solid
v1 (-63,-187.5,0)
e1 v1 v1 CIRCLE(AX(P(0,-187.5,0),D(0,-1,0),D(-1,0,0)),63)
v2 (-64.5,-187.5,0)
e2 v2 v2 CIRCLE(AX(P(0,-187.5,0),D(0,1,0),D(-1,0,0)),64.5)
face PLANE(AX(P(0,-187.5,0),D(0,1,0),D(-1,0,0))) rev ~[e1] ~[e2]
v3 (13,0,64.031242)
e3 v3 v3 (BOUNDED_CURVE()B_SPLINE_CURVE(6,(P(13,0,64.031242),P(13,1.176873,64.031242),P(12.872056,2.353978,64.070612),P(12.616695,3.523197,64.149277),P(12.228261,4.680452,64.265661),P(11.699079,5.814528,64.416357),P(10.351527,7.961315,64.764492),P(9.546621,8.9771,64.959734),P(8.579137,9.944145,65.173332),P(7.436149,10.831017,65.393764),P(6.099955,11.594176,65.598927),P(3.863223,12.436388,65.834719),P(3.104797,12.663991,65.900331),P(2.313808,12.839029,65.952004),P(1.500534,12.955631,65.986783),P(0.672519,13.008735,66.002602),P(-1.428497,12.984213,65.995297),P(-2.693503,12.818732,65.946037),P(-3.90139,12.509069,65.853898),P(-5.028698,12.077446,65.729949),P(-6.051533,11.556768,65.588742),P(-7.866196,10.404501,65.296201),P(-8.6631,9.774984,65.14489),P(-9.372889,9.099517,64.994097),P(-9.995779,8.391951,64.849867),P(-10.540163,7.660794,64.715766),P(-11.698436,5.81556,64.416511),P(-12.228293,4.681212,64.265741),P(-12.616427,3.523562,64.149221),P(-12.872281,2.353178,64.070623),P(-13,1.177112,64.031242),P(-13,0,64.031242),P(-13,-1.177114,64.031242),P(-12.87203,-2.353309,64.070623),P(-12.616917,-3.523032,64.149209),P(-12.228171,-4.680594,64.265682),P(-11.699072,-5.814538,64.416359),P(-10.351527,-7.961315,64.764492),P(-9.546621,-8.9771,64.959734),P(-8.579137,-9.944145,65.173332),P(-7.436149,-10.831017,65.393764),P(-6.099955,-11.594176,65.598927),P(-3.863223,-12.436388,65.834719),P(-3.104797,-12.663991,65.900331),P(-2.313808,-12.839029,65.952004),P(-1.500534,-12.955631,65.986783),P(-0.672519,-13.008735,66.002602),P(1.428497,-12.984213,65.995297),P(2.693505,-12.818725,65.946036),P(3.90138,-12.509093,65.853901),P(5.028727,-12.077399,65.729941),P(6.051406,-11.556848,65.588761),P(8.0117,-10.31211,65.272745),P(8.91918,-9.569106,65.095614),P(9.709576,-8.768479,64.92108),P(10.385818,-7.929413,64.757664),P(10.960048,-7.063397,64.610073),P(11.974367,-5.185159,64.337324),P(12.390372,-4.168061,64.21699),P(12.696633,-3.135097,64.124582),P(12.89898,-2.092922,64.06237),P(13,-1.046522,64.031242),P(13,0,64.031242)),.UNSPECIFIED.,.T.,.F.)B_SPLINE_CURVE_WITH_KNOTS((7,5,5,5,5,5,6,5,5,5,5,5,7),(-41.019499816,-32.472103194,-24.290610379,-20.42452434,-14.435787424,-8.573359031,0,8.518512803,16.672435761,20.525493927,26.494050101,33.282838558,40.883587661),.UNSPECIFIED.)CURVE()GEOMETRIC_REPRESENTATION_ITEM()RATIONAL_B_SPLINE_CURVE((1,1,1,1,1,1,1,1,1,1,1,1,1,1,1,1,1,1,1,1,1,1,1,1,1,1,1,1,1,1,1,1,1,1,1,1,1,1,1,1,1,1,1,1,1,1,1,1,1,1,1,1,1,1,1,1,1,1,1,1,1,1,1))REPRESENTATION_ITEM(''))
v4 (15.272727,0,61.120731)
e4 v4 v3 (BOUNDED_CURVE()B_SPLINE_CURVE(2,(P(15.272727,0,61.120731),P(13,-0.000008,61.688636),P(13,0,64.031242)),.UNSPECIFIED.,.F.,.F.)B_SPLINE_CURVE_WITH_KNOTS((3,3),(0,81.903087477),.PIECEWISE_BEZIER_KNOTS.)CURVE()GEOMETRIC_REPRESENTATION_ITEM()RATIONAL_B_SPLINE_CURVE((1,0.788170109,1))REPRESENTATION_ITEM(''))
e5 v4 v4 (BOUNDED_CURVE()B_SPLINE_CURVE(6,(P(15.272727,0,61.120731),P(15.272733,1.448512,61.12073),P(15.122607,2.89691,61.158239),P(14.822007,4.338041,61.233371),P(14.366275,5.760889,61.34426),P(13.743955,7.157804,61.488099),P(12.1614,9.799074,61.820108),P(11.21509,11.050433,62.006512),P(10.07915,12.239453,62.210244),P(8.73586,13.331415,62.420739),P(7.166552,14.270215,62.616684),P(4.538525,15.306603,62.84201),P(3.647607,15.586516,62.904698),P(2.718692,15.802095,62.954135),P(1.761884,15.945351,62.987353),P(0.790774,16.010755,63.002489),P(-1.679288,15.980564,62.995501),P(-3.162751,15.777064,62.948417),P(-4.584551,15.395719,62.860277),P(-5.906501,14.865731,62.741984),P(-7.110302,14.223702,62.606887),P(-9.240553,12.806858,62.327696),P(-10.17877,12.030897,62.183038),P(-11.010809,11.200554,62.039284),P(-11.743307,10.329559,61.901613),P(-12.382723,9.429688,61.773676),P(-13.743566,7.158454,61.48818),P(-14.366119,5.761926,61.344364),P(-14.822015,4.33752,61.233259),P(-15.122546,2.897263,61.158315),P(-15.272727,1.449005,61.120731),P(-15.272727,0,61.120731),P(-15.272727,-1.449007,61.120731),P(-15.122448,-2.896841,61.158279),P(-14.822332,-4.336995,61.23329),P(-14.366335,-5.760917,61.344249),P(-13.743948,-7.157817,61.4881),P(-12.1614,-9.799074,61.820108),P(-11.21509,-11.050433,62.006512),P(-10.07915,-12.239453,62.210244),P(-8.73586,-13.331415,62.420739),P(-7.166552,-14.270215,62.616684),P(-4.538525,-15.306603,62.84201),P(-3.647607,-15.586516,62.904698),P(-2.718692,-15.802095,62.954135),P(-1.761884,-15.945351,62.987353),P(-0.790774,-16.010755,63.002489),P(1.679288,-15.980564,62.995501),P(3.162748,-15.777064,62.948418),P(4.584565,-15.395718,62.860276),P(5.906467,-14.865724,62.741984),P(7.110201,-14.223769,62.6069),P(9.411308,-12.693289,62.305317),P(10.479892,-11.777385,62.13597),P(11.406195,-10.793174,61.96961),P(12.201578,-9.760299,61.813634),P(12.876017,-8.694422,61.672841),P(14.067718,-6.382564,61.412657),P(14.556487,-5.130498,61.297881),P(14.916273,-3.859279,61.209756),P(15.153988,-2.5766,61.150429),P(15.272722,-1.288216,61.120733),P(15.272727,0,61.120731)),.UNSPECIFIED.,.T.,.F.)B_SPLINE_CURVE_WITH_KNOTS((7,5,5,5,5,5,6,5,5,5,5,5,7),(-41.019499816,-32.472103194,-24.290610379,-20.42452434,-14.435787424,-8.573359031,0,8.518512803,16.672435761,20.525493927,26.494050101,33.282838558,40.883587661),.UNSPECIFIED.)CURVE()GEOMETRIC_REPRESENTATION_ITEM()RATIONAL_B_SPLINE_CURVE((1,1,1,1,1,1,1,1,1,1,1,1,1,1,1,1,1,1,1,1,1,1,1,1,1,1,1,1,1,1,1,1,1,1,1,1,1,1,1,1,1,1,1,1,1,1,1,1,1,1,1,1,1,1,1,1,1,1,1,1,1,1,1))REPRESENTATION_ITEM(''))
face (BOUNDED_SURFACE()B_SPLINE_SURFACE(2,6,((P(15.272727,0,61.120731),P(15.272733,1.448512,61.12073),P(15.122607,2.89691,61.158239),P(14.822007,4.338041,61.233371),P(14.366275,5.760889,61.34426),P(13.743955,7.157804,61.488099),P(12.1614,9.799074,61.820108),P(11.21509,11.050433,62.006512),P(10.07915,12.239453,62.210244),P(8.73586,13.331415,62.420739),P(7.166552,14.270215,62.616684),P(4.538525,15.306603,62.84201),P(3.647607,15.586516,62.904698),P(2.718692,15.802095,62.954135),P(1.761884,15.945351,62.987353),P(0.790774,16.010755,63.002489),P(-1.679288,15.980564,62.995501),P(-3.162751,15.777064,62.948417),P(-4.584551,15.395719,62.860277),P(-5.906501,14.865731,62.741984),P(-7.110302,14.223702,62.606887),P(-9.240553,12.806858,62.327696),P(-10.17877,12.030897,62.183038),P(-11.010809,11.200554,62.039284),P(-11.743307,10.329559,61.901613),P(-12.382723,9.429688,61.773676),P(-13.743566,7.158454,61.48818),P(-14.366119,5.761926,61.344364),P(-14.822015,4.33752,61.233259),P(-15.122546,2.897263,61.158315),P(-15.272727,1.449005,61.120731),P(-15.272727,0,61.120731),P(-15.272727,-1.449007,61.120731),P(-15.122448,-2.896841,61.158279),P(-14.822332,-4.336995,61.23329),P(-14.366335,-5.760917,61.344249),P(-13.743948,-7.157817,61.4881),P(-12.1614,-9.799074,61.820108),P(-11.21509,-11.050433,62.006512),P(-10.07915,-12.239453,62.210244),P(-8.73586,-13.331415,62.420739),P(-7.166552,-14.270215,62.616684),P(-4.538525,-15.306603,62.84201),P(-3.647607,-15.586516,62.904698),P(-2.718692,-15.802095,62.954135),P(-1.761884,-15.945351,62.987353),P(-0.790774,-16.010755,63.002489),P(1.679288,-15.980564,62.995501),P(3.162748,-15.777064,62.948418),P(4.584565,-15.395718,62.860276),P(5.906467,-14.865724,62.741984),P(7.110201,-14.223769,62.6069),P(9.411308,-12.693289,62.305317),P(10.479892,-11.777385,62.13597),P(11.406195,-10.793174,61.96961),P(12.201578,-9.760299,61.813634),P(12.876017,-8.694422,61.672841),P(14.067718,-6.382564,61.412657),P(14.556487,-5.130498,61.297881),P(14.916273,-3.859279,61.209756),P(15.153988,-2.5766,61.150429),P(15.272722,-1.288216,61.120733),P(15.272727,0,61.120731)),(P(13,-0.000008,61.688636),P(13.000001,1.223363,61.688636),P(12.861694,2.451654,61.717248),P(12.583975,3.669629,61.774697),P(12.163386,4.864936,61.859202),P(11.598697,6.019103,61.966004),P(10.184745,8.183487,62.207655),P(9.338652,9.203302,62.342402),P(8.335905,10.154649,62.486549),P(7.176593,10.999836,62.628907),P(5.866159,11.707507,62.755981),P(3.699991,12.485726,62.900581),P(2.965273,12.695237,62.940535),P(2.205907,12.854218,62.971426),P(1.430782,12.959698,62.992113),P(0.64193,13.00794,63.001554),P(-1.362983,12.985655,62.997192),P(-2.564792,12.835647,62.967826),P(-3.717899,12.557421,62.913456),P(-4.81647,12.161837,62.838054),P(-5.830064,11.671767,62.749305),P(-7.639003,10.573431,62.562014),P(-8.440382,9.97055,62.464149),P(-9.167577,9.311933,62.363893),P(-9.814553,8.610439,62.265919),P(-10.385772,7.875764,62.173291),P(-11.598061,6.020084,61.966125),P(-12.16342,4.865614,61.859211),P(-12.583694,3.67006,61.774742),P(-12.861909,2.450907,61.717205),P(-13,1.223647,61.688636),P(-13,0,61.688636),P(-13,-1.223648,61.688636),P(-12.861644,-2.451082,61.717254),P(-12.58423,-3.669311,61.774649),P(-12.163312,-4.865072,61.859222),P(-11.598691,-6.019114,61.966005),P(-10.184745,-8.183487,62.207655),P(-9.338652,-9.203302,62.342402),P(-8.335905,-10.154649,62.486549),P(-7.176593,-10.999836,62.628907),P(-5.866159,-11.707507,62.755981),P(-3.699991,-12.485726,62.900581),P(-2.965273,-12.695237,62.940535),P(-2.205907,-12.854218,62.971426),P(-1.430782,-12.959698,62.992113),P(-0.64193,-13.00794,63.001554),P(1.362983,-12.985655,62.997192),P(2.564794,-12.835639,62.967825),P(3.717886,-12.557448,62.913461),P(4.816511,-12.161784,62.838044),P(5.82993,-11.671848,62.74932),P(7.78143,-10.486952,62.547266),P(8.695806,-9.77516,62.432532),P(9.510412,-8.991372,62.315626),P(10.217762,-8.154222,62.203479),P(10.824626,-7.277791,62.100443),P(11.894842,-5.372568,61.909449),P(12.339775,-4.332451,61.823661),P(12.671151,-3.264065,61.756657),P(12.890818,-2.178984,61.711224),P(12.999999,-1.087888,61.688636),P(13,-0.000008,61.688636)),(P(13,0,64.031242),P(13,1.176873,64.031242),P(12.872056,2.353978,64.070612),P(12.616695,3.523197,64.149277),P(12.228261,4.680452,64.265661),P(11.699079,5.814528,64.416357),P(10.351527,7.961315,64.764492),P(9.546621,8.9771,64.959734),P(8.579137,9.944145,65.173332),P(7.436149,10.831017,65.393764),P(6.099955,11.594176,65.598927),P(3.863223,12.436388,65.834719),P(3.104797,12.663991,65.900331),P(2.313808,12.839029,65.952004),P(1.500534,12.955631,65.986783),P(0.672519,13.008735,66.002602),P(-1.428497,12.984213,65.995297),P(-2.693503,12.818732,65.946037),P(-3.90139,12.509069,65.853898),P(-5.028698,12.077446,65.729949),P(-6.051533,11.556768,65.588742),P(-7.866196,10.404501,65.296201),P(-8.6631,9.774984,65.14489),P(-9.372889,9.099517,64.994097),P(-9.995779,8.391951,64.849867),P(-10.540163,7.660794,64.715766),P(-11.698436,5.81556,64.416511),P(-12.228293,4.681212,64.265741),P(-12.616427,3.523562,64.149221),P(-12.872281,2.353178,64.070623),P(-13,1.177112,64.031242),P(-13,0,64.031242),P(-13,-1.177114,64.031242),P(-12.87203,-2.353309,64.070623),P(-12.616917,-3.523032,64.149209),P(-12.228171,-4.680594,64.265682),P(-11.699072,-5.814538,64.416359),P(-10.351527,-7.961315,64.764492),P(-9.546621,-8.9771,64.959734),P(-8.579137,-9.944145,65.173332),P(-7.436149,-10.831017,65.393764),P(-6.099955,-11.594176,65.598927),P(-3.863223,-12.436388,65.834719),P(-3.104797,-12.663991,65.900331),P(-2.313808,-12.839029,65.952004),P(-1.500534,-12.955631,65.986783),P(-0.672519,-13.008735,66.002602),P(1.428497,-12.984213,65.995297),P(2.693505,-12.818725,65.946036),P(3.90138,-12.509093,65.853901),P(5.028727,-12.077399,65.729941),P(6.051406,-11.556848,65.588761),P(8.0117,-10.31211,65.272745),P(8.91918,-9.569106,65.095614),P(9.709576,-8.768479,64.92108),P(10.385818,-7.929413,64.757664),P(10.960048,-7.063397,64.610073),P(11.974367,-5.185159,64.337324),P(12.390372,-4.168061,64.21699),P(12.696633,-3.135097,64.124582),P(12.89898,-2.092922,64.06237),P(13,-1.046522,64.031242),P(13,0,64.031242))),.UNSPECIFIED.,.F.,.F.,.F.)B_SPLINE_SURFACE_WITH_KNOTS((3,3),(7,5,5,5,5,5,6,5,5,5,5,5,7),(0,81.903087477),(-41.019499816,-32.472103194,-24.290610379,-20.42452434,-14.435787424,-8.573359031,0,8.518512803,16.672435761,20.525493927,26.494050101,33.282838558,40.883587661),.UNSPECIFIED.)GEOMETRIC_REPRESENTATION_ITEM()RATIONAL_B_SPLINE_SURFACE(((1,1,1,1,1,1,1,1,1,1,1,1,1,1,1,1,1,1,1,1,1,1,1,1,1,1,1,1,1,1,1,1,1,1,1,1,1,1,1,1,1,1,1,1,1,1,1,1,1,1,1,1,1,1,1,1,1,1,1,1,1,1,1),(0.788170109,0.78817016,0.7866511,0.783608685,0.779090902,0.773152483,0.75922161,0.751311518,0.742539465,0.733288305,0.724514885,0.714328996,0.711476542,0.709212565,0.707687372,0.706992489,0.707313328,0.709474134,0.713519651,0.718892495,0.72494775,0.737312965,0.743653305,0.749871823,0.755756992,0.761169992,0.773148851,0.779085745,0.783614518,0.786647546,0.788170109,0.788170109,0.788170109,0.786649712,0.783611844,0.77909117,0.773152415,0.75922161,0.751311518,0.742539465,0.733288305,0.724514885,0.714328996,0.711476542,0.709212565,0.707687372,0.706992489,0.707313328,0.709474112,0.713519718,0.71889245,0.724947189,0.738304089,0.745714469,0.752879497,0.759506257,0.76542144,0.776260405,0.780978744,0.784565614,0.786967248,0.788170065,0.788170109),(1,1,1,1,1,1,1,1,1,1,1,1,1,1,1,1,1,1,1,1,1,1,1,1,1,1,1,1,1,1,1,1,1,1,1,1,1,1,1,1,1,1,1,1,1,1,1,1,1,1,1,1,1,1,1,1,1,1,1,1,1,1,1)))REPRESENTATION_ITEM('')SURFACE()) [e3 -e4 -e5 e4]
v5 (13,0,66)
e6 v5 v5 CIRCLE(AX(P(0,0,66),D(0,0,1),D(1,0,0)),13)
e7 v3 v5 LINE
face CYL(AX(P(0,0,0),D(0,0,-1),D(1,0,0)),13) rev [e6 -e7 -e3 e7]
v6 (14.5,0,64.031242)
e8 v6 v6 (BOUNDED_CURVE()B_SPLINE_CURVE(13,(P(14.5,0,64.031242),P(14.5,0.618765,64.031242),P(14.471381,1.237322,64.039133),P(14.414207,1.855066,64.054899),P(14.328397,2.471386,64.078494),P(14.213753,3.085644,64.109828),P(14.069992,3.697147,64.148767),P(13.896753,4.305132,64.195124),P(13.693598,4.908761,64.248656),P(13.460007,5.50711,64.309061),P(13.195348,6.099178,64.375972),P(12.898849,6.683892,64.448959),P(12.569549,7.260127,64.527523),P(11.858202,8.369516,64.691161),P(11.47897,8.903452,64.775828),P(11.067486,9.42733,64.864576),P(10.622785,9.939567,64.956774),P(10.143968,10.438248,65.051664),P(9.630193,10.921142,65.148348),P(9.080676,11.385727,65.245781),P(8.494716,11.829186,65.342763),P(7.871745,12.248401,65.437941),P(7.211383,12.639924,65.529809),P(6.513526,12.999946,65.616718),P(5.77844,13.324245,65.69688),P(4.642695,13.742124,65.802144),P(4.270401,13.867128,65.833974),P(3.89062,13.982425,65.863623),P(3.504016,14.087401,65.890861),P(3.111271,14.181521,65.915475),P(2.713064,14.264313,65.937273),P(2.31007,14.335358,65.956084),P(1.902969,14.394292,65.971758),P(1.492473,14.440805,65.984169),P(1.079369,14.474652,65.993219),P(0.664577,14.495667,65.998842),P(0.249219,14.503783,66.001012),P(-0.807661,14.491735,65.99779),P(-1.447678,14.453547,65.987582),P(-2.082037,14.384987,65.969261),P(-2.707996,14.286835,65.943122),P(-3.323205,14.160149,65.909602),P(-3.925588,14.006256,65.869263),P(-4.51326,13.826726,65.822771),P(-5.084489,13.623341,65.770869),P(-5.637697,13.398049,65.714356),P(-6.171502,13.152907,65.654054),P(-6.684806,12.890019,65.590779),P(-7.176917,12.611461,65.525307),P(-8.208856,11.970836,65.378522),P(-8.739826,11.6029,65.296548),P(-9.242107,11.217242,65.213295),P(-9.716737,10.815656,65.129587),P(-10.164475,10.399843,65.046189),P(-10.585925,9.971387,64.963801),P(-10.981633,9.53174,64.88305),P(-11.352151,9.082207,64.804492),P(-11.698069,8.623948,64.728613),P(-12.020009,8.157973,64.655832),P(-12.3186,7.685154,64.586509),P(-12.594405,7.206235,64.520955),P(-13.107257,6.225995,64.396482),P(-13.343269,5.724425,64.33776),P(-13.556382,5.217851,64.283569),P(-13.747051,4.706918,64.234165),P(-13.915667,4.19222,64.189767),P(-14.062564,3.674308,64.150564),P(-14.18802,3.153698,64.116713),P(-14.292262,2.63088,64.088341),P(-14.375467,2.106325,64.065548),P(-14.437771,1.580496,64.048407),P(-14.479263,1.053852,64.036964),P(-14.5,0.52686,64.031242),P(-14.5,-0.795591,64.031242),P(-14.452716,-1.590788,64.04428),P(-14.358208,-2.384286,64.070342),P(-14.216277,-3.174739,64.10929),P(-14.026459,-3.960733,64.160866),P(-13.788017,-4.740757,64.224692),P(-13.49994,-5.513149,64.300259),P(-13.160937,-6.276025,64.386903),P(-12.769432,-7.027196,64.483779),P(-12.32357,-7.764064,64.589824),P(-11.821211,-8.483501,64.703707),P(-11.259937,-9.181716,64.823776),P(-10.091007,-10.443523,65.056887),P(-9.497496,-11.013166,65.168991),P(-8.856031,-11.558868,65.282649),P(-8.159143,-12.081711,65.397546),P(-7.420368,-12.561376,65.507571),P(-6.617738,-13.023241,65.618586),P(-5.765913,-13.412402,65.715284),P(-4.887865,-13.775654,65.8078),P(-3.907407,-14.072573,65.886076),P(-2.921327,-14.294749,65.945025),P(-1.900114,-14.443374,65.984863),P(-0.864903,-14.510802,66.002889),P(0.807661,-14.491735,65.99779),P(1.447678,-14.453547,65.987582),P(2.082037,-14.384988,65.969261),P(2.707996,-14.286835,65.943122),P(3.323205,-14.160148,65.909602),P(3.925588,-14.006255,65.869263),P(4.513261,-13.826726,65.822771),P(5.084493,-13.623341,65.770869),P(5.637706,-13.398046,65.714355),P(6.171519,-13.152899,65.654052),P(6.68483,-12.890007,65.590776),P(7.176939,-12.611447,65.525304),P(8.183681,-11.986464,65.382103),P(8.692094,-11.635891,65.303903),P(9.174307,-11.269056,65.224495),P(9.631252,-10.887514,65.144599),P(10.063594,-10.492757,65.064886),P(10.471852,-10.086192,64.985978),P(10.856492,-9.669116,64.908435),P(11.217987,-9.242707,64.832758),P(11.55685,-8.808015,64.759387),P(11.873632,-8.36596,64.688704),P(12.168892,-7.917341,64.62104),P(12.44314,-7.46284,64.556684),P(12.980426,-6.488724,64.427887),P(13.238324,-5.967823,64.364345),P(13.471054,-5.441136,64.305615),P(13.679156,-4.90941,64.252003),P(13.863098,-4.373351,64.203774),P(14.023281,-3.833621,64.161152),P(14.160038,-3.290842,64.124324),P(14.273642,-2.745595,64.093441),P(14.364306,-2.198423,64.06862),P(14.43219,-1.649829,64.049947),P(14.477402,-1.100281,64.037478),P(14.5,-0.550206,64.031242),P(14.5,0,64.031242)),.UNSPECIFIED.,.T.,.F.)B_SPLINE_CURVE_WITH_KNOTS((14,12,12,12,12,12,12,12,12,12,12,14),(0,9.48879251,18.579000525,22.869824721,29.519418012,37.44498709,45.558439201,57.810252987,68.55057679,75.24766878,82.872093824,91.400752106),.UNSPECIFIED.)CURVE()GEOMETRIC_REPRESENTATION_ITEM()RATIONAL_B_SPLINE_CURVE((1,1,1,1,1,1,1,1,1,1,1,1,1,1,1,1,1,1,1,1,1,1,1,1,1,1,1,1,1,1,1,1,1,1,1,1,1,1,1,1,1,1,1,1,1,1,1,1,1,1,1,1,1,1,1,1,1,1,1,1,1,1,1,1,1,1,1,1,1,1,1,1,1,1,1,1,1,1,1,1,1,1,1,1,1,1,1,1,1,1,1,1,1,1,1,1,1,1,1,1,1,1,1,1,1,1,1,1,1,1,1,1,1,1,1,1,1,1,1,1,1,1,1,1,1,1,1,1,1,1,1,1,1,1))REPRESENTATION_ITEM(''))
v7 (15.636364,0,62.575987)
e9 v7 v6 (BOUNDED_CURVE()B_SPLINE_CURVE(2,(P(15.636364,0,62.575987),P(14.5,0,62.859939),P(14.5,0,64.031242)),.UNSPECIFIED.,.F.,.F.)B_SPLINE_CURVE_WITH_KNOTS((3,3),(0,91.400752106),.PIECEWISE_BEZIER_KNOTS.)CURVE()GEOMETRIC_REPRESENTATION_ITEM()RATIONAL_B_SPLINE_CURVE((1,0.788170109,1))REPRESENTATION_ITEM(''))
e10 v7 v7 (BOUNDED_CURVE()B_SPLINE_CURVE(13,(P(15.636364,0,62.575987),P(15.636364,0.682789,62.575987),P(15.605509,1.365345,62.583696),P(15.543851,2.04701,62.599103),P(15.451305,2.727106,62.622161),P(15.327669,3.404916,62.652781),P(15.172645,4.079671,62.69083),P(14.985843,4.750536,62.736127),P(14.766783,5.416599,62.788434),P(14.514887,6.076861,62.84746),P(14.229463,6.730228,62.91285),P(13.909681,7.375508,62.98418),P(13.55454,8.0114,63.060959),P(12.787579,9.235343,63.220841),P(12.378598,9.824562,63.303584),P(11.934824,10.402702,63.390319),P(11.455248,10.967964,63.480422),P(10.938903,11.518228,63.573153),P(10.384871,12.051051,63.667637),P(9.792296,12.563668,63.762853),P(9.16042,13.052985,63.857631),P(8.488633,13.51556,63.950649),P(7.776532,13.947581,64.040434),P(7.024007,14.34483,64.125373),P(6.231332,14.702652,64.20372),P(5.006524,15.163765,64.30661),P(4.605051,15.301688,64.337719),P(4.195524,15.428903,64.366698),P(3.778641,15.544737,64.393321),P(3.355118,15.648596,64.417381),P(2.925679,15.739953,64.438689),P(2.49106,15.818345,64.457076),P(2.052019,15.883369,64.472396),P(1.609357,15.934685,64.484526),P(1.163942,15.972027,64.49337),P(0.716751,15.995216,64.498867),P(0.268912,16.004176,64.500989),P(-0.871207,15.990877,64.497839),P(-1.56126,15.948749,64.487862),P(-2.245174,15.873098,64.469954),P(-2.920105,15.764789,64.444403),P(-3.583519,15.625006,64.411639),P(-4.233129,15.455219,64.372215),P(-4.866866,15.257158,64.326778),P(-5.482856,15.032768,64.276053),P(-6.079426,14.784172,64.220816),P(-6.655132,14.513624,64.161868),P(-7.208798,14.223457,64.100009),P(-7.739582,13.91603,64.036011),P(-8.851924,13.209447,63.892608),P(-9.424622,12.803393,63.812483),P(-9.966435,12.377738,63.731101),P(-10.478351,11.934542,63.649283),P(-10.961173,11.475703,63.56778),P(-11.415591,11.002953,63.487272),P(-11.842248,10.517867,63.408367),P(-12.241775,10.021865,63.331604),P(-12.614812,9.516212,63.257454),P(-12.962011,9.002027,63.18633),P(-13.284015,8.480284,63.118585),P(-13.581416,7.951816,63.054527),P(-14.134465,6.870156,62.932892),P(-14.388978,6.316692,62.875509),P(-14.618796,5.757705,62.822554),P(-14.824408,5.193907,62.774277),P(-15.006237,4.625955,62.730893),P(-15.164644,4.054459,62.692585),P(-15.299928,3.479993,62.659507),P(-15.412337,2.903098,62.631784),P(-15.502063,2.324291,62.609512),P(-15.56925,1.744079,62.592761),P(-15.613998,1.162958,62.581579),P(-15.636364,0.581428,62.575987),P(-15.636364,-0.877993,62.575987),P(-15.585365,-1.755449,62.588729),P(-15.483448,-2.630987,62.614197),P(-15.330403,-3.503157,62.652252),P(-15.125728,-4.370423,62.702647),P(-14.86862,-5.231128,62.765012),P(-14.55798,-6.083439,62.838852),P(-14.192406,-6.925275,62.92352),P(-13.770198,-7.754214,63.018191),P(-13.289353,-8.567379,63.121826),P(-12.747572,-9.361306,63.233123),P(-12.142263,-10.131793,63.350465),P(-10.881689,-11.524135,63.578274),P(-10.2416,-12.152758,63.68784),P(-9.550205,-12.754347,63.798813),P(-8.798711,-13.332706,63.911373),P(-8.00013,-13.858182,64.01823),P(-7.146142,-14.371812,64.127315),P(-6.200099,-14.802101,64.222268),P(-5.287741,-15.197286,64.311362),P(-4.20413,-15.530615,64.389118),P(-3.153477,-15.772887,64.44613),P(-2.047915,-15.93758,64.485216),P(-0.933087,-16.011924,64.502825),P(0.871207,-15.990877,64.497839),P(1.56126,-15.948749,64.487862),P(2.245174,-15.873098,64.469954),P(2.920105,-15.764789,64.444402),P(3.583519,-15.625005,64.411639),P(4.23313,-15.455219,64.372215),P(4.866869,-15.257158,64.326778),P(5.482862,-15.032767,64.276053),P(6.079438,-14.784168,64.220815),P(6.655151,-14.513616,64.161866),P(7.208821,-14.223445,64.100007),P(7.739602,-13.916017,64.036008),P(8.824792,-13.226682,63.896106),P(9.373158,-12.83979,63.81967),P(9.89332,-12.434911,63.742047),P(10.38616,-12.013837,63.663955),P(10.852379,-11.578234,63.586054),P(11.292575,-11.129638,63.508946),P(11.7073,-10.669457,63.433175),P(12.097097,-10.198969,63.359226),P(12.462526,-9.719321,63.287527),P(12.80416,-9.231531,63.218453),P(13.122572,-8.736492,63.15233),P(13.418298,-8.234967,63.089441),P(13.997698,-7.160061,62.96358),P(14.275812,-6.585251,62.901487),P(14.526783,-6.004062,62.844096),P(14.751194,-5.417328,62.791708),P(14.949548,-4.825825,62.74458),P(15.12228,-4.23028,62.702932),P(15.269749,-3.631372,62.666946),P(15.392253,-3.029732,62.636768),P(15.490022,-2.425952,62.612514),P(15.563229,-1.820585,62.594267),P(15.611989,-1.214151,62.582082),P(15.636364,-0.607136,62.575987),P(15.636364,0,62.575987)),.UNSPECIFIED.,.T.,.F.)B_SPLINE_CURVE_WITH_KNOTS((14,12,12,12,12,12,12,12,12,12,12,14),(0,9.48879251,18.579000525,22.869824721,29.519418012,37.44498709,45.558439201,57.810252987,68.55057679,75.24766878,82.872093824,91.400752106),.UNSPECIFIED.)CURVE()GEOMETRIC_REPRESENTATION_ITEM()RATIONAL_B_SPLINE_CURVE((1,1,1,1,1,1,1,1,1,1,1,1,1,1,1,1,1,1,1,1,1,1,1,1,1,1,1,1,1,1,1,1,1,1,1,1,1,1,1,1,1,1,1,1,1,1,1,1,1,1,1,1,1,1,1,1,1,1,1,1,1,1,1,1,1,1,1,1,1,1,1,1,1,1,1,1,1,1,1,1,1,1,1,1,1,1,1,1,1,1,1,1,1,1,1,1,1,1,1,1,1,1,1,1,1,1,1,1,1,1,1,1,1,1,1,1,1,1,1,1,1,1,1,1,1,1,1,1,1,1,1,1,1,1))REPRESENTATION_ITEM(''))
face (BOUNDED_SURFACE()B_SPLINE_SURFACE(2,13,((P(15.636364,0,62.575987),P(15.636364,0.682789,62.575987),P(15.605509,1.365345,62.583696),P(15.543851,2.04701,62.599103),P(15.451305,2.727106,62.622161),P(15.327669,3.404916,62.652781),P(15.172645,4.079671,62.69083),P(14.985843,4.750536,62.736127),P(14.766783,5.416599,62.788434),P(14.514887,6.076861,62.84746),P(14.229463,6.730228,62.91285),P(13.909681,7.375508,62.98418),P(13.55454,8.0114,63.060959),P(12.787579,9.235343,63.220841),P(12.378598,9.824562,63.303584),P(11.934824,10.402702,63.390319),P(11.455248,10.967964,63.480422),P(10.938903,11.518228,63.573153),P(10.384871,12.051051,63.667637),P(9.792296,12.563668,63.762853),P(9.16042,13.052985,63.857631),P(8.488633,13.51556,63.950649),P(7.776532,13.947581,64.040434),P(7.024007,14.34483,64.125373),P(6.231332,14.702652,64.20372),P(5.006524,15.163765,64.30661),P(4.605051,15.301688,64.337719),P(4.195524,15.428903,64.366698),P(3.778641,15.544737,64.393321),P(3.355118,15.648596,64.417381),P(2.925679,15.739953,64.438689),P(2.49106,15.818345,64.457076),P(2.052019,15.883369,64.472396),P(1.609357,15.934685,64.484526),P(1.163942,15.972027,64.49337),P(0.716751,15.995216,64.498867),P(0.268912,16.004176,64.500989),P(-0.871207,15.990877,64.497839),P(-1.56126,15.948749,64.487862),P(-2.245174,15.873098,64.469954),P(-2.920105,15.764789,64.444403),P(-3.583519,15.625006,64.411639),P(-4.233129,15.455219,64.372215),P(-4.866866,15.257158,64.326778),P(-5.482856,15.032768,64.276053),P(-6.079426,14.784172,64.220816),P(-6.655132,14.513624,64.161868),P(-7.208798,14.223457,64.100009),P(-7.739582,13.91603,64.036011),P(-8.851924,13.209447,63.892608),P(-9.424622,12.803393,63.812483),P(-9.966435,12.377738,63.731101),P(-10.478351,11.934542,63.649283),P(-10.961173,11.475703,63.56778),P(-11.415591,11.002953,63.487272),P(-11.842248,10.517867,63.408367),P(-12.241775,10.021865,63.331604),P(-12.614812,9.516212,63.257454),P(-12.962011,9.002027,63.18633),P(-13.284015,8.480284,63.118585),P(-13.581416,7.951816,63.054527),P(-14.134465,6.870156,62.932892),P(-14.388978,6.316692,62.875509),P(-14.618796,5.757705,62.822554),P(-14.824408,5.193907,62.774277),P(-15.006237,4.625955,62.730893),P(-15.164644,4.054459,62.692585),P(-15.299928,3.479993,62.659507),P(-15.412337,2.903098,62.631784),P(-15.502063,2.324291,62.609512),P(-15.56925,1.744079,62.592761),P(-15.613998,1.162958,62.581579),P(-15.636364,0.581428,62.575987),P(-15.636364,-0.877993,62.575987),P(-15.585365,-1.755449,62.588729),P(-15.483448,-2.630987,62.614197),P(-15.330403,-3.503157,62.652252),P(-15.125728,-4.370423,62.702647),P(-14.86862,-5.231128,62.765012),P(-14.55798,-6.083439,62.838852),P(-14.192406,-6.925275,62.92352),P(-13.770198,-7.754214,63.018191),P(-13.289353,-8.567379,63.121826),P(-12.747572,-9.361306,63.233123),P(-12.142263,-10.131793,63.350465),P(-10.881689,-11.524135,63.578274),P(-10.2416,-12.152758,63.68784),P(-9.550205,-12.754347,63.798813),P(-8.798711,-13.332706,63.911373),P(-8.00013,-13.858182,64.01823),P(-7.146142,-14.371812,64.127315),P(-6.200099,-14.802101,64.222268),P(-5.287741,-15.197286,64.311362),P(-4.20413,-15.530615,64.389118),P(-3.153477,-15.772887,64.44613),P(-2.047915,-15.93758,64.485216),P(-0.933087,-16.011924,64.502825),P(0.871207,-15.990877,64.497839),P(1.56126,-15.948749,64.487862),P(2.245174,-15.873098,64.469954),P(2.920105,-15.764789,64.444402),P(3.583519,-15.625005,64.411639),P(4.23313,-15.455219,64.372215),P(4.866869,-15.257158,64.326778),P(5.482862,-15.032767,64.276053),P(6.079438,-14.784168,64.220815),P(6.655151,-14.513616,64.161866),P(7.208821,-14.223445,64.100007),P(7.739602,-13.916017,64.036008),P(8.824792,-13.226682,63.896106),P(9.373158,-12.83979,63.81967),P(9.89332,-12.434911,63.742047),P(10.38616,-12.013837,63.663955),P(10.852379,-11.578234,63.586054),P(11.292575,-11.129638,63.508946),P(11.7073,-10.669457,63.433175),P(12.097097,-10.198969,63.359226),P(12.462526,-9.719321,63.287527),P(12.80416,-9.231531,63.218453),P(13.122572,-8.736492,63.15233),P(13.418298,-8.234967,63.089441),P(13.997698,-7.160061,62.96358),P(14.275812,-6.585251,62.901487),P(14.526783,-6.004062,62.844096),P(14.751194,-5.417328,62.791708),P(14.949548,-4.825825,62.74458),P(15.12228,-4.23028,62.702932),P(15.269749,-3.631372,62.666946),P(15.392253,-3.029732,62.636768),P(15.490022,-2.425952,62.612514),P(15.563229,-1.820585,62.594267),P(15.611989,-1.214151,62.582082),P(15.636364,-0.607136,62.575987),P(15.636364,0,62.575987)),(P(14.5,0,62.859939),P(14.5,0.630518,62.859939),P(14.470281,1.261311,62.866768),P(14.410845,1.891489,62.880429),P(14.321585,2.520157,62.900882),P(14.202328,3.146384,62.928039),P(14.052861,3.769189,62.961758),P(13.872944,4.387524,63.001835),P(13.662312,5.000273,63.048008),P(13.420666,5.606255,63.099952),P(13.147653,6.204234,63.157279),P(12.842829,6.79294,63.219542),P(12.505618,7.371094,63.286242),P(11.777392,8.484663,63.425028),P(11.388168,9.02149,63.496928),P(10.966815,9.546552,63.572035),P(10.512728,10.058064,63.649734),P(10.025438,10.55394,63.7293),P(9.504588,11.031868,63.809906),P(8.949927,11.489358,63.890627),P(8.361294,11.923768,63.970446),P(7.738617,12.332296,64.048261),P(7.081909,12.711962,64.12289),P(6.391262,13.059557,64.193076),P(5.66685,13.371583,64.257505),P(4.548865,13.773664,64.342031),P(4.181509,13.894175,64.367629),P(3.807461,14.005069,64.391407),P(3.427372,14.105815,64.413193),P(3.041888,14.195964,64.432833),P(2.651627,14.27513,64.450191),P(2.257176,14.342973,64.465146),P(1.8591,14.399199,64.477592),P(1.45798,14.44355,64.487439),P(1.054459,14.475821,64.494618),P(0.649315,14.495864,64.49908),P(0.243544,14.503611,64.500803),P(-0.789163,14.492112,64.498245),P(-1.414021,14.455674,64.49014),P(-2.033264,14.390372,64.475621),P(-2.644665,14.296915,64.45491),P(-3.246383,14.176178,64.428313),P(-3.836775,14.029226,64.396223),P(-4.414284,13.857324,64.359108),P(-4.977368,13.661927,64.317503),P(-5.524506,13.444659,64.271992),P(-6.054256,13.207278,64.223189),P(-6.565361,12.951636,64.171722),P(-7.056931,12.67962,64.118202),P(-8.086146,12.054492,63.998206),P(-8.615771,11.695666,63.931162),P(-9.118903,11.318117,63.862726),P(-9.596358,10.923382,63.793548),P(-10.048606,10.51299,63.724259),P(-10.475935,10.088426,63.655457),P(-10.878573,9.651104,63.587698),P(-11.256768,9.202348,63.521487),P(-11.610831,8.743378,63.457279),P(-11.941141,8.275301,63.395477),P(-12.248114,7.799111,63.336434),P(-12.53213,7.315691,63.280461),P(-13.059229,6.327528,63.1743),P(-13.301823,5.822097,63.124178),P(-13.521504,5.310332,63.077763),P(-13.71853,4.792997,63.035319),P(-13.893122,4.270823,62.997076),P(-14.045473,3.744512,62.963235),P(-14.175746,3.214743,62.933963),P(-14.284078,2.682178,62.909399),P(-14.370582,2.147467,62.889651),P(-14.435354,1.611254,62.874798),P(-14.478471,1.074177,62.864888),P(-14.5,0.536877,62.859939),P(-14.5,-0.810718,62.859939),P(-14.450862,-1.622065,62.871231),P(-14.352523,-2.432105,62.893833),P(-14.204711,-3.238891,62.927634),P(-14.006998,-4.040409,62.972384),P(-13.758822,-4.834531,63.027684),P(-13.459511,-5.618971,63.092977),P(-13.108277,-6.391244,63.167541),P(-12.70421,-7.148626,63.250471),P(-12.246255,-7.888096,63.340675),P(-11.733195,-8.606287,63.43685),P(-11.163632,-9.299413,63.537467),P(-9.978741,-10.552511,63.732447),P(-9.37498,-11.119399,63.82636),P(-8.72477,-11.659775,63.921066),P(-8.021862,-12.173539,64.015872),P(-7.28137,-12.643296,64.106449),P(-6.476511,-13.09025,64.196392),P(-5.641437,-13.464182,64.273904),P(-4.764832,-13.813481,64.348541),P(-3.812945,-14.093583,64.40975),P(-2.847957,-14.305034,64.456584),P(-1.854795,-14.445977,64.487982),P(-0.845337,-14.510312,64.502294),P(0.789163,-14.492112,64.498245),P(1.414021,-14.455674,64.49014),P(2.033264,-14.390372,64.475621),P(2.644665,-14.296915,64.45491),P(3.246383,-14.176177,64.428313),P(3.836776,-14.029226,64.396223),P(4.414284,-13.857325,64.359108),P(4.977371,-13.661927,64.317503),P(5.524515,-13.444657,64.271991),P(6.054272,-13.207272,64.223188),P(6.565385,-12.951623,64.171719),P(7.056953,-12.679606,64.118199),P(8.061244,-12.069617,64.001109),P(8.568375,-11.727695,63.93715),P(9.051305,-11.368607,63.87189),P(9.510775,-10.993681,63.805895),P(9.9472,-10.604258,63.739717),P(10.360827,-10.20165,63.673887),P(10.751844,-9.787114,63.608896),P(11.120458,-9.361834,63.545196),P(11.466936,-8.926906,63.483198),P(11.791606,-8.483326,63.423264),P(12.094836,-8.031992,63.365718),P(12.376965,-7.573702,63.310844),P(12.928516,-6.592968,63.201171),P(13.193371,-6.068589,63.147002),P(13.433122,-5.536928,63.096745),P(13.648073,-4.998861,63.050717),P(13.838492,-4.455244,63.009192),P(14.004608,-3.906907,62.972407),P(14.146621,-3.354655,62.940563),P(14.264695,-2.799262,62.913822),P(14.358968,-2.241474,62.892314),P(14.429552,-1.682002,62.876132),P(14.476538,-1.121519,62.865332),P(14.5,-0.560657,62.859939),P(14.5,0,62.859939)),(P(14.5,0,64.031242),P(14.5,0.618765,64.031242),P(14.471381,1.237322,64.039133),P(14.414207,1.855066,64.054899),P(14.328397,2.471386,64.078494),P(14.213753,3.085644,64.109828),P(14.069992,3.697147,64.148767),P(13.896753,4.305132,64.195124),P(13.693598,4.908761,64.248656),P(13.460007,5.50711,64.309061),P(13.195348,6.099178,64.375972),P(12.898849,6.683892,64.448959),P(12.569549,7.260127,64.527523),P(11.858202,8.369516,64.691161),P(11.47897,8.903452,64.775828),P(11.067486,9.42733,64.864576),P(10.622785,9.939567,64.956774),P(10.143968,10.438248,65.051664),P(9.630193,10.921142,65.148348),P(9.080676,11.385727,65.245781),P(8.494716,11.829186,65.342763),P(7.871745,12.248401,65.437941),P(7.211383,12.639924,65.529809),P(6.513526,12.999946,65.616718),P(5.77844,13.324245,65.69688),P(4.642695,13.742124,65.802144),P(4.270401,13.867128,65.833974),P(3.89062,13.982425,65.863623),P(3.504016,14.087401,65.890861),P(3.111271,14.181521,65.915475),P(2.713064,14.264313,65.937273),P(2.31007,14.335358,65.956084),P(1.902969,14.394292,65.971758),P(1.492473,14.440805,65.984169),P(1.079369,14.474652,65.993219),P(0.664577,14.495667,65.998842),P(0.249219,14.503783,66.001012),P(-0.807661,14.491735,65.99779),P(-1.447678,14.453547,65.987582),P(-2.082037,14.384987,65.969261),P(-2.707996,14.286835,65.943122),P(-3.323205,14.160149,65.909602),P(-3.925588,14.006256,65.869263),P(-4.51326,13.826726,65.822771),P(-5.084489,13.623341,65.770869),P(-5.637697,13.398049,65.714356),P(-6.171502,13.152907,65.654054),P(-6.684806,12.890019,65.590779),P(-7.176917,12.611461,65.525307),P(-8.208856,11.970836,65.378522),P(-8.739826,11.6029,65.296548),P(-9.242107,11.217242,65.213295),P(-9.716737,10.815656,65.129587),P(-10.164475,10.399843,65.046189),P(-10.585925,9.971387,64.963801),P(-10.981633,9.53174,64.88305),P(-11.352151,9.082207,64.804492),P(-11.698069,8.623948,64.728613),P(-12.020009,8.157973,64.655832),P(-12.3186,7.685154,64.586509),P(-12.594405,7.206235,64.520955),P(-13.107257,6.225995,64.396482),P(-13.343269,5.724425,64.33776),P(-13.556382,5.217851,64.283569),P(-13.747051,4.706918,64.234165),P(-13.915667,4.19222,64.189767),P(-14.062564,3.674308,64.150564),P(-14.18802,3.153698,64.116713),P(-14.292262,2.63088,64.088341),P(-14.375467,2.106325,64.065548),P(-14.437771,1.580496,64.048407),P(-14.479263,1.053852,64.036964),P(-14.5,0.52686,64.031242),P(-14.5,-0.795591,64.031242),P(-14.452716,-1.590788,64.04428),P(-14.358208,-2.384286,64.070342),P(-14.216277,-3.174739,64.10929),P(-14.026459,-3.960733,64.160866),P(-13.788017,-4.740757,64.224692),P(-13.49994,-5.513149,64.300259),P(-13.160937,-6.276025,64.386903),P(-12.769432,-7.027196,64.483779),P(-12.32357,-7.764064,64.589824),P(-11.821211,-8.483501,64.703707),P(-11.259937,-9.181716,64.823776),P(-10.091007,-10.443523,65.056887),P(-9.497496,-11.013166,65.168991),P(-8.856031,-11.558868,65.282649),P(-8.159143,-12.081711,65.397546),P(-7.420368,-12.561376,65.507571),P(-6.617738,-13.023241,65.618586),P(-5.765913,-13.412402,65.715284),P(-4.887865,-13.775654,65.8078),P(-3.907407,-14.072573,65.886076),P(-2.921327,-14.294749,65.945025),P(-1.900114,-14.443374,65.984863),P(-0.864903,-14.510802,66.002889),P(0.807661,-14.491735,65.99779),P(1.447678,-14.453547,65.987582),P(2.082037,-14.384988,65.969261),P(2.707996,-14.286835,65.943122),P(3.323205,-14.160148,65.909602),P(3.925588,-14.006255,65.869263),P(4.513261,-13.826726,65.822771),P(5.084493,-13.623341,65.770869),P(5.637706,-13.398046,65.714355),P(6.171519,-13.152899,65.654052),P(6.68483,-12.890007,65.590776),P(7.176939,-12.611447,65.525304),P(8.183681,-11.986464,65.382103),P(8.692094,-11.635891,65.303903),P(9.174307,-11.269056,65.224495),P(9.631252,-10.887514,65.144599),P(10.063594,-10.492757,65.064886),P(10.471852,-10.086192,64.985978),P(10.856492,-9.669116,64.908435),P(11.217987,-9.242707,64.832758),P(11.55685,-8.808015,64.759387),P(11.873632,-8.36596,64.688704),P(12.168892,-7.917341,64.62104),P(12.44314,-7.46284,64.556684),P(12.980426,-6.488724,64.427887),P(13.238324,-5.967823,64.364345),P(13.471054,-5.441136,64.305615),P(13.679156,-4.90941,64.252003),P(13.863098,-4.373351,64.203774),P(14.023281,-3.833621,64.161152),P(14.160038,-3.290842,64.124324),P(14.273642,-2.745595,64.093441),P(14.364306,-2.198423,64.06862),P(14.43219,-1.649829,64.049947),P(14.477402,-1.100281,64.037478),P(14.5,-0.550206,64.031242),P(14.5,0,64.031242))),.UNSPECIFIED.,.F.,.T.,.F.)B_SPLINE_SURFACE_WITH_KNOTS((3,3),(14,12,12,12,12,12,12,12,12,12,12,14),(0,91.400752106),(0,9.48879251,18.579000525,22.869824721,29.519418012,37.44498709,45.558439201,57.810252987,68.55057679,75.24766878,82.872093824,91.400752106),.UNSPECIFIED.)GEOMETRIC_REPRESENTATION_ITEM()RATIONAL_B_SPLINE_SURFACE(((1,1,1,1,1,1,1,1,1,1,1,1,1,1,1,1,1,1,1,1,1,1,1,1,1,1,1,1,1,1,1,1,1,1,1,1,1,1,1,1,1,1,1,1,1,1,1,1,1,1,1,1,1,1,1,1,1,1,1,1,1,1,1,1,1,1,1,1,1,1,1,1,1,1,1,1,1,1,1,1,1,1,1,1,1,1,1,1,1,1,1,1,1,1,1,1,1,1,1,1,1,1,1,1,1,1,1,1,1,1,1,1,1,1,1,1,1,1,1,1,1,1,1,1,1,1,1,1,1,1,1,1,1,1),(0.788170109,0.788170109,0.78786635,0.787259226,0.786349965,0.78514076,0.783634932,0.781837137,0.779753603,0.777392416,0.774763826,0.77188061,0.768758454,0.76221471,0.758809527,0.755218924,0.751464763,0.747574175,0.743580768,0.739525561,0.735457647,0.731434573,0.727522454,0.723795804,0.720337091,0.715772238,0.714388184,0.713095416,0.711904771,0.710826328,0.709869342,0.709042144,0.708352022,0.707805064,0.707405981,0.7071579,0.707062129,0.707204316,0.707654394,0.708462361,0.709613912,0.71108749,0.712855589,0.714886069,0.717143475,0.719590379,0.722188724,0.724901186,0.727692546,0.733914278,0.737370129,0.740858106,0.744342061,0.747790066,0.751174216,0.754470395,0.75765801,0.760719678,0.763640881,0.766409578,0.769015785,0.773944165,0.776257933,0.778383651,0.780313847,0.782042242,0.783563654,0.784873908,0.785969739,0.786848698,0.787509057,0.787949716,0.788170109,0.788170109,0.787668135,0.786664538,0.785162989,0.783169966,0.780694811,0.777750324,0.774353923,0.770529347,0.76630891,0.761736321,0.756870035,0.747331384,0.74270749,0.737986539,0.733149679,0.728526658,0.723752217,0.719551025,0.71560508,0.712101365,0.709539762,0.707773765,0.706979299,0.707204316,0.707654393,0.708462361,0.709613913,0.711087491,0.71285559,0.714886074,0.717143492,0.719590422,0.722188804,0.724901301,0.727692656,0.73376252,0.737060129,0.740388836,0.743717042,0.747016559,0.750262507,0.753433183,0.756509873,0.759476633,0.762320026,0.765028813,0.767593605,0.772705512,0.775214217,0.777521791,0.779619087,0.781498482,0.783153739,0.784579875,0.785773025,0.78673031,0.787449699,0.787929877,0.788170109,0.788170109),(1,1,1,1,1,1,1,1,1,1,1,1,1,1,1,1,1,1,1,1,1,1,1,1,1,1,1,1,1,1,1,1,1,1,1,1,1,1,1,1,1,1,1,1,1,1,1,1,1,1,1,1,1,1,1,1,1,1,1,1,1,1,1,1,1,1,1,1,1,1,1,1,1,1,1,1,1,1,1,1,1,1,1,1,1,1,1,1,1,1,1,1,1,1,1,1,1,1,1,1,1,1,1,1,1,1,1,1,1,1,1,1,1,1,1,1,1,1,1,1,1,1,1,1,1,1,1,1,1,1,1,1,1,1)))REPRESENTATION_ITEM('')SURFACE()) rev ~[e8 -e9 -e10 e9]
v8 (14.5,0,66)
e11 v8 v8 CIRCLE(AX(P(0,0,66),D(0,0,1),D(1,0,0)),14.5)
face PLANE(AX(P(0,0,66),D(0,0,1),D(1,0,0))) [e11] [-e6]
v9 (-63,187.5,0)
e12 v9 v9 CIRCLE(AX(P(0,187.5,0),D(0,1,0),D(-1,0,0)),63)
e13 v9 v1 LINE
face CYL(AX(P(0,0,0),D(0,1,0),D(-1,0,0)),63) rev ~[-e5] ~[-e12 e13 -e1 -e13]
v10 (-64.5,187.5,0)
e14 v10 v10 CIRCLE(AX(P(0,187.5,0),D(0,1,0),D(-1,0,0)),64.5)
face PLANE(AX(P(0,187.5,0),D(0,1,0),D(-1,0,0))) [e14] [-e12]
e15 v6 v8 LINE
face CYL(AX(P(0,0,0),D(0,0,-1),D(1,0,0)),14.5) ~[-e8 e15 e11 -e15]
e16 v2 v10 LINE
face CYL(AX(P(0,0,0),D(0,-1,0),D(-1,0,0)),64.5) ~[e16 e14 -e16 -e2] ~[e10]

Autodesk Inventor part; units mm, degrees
ref_plane "YZ Plane" through (0, 0, 0) normal (1, 0, 0) x (0, 1, 0)
ref_plane "XZ Plane" through (0, 0, 0) normal (0, 1, 0) x (-1, 0, 0)
ref_plane "XY Plane" through (0, 0, 0) normal (0, 0, 1) x (1, 0, 0)
sketch "Szkic8" plane through (0, 0, 0) normal (0, 1, 0) x (-1, 0, 0)
  circle A0 centre (0, 0) radius 64.5
  circle A1 centre (0, 0) radius 63
  dimension "d53" = 129
  dimension "d54" = 1.5
extrude "Wyciągnięcie proste2" add sketch "Szkic8" along normal mid plane 375
sketch "Szkic13" plane through (0, 0, 0) normal (0, 0, 1) x (1, 0, 0)
  circle A0 centre (0, 0) radius 14.5
  circle A1 centre (0, 0) radius 13
  dimension "d67" = 29
  dimension "d68" = 1.5
extrude "Wyciągnięcie proste6" add sketch "Szkic13" along normal blind 66
sketch "Szkic14" plane through (0, 0, 66) normal (0, 0, 1) x (1, 0, 0)
  circle A0 centre (0, 0) radius 13 projected
extrude "Wyciągnięcie proste7" cut sketch "Szkic14" against normal blind 66
sketch "Szkic15" plane through (0, -187.5, 0) normal (0, -1, 0) x (1, 0, 0)
  circle A0 centre (0, 0) radius 63 projected
extrude "Wyciągnięcie proste8" cut sketch "Szkic15" against normal blind 375
fillet "Zaokrąglenie3" radius 1.5 2 edges at (-0.0501, 14.4999, 64.5) (0.0748, -14.4998, 64.5)
fillet "Zaokrąglenie4" radius 3 2 edges at (0.0421, -12.9999, 63) (-0.0406, 12.9999, 63)
equation "\"d53\" = OD"
equation "\"d54\" = THK"
equation "\"d55\" = L1"
equation "\"d67\" = OD2"
equation "\"d68\" = THK"
equation "\"d69\" = L2"
equation "\"d71\" = L2"
equation "\"d73\" = L1"
equation "\"d75\" = THK"
equation "\"d76\" = 2 * THK"
equation "\"SzerokośćGięciaPodcięcia\" = Grubość"
equation "\"RozmiarPodcięciaNarożnika\" = 4 * Grubość"
equation "\"PromieńPrzejścia\" = PromieńGięcia"
equation "\"Rozmiar_promienia_Jacobiego\" = PromieńGięcia"
equation "\"Wielk_odstępu\" = Grubość"
equation "\"d2\" = PromieńGięcia"
equation "\"d23\" = PromieńGięcia"
equation "\"OD\" = 129"
equation "\"THK\" = 1.5"
equation "\"L1\" = 375"
equation "\"L2\" = 66"
equation "\"OD2\" = 29"
equation "\"Grubość\" = 1.5"
equation "\"PromieńGięcia\" = 3"
properties part number "Trójnik red. krótki  Ø129 29 129 s=1,5 L=375" material "304"
